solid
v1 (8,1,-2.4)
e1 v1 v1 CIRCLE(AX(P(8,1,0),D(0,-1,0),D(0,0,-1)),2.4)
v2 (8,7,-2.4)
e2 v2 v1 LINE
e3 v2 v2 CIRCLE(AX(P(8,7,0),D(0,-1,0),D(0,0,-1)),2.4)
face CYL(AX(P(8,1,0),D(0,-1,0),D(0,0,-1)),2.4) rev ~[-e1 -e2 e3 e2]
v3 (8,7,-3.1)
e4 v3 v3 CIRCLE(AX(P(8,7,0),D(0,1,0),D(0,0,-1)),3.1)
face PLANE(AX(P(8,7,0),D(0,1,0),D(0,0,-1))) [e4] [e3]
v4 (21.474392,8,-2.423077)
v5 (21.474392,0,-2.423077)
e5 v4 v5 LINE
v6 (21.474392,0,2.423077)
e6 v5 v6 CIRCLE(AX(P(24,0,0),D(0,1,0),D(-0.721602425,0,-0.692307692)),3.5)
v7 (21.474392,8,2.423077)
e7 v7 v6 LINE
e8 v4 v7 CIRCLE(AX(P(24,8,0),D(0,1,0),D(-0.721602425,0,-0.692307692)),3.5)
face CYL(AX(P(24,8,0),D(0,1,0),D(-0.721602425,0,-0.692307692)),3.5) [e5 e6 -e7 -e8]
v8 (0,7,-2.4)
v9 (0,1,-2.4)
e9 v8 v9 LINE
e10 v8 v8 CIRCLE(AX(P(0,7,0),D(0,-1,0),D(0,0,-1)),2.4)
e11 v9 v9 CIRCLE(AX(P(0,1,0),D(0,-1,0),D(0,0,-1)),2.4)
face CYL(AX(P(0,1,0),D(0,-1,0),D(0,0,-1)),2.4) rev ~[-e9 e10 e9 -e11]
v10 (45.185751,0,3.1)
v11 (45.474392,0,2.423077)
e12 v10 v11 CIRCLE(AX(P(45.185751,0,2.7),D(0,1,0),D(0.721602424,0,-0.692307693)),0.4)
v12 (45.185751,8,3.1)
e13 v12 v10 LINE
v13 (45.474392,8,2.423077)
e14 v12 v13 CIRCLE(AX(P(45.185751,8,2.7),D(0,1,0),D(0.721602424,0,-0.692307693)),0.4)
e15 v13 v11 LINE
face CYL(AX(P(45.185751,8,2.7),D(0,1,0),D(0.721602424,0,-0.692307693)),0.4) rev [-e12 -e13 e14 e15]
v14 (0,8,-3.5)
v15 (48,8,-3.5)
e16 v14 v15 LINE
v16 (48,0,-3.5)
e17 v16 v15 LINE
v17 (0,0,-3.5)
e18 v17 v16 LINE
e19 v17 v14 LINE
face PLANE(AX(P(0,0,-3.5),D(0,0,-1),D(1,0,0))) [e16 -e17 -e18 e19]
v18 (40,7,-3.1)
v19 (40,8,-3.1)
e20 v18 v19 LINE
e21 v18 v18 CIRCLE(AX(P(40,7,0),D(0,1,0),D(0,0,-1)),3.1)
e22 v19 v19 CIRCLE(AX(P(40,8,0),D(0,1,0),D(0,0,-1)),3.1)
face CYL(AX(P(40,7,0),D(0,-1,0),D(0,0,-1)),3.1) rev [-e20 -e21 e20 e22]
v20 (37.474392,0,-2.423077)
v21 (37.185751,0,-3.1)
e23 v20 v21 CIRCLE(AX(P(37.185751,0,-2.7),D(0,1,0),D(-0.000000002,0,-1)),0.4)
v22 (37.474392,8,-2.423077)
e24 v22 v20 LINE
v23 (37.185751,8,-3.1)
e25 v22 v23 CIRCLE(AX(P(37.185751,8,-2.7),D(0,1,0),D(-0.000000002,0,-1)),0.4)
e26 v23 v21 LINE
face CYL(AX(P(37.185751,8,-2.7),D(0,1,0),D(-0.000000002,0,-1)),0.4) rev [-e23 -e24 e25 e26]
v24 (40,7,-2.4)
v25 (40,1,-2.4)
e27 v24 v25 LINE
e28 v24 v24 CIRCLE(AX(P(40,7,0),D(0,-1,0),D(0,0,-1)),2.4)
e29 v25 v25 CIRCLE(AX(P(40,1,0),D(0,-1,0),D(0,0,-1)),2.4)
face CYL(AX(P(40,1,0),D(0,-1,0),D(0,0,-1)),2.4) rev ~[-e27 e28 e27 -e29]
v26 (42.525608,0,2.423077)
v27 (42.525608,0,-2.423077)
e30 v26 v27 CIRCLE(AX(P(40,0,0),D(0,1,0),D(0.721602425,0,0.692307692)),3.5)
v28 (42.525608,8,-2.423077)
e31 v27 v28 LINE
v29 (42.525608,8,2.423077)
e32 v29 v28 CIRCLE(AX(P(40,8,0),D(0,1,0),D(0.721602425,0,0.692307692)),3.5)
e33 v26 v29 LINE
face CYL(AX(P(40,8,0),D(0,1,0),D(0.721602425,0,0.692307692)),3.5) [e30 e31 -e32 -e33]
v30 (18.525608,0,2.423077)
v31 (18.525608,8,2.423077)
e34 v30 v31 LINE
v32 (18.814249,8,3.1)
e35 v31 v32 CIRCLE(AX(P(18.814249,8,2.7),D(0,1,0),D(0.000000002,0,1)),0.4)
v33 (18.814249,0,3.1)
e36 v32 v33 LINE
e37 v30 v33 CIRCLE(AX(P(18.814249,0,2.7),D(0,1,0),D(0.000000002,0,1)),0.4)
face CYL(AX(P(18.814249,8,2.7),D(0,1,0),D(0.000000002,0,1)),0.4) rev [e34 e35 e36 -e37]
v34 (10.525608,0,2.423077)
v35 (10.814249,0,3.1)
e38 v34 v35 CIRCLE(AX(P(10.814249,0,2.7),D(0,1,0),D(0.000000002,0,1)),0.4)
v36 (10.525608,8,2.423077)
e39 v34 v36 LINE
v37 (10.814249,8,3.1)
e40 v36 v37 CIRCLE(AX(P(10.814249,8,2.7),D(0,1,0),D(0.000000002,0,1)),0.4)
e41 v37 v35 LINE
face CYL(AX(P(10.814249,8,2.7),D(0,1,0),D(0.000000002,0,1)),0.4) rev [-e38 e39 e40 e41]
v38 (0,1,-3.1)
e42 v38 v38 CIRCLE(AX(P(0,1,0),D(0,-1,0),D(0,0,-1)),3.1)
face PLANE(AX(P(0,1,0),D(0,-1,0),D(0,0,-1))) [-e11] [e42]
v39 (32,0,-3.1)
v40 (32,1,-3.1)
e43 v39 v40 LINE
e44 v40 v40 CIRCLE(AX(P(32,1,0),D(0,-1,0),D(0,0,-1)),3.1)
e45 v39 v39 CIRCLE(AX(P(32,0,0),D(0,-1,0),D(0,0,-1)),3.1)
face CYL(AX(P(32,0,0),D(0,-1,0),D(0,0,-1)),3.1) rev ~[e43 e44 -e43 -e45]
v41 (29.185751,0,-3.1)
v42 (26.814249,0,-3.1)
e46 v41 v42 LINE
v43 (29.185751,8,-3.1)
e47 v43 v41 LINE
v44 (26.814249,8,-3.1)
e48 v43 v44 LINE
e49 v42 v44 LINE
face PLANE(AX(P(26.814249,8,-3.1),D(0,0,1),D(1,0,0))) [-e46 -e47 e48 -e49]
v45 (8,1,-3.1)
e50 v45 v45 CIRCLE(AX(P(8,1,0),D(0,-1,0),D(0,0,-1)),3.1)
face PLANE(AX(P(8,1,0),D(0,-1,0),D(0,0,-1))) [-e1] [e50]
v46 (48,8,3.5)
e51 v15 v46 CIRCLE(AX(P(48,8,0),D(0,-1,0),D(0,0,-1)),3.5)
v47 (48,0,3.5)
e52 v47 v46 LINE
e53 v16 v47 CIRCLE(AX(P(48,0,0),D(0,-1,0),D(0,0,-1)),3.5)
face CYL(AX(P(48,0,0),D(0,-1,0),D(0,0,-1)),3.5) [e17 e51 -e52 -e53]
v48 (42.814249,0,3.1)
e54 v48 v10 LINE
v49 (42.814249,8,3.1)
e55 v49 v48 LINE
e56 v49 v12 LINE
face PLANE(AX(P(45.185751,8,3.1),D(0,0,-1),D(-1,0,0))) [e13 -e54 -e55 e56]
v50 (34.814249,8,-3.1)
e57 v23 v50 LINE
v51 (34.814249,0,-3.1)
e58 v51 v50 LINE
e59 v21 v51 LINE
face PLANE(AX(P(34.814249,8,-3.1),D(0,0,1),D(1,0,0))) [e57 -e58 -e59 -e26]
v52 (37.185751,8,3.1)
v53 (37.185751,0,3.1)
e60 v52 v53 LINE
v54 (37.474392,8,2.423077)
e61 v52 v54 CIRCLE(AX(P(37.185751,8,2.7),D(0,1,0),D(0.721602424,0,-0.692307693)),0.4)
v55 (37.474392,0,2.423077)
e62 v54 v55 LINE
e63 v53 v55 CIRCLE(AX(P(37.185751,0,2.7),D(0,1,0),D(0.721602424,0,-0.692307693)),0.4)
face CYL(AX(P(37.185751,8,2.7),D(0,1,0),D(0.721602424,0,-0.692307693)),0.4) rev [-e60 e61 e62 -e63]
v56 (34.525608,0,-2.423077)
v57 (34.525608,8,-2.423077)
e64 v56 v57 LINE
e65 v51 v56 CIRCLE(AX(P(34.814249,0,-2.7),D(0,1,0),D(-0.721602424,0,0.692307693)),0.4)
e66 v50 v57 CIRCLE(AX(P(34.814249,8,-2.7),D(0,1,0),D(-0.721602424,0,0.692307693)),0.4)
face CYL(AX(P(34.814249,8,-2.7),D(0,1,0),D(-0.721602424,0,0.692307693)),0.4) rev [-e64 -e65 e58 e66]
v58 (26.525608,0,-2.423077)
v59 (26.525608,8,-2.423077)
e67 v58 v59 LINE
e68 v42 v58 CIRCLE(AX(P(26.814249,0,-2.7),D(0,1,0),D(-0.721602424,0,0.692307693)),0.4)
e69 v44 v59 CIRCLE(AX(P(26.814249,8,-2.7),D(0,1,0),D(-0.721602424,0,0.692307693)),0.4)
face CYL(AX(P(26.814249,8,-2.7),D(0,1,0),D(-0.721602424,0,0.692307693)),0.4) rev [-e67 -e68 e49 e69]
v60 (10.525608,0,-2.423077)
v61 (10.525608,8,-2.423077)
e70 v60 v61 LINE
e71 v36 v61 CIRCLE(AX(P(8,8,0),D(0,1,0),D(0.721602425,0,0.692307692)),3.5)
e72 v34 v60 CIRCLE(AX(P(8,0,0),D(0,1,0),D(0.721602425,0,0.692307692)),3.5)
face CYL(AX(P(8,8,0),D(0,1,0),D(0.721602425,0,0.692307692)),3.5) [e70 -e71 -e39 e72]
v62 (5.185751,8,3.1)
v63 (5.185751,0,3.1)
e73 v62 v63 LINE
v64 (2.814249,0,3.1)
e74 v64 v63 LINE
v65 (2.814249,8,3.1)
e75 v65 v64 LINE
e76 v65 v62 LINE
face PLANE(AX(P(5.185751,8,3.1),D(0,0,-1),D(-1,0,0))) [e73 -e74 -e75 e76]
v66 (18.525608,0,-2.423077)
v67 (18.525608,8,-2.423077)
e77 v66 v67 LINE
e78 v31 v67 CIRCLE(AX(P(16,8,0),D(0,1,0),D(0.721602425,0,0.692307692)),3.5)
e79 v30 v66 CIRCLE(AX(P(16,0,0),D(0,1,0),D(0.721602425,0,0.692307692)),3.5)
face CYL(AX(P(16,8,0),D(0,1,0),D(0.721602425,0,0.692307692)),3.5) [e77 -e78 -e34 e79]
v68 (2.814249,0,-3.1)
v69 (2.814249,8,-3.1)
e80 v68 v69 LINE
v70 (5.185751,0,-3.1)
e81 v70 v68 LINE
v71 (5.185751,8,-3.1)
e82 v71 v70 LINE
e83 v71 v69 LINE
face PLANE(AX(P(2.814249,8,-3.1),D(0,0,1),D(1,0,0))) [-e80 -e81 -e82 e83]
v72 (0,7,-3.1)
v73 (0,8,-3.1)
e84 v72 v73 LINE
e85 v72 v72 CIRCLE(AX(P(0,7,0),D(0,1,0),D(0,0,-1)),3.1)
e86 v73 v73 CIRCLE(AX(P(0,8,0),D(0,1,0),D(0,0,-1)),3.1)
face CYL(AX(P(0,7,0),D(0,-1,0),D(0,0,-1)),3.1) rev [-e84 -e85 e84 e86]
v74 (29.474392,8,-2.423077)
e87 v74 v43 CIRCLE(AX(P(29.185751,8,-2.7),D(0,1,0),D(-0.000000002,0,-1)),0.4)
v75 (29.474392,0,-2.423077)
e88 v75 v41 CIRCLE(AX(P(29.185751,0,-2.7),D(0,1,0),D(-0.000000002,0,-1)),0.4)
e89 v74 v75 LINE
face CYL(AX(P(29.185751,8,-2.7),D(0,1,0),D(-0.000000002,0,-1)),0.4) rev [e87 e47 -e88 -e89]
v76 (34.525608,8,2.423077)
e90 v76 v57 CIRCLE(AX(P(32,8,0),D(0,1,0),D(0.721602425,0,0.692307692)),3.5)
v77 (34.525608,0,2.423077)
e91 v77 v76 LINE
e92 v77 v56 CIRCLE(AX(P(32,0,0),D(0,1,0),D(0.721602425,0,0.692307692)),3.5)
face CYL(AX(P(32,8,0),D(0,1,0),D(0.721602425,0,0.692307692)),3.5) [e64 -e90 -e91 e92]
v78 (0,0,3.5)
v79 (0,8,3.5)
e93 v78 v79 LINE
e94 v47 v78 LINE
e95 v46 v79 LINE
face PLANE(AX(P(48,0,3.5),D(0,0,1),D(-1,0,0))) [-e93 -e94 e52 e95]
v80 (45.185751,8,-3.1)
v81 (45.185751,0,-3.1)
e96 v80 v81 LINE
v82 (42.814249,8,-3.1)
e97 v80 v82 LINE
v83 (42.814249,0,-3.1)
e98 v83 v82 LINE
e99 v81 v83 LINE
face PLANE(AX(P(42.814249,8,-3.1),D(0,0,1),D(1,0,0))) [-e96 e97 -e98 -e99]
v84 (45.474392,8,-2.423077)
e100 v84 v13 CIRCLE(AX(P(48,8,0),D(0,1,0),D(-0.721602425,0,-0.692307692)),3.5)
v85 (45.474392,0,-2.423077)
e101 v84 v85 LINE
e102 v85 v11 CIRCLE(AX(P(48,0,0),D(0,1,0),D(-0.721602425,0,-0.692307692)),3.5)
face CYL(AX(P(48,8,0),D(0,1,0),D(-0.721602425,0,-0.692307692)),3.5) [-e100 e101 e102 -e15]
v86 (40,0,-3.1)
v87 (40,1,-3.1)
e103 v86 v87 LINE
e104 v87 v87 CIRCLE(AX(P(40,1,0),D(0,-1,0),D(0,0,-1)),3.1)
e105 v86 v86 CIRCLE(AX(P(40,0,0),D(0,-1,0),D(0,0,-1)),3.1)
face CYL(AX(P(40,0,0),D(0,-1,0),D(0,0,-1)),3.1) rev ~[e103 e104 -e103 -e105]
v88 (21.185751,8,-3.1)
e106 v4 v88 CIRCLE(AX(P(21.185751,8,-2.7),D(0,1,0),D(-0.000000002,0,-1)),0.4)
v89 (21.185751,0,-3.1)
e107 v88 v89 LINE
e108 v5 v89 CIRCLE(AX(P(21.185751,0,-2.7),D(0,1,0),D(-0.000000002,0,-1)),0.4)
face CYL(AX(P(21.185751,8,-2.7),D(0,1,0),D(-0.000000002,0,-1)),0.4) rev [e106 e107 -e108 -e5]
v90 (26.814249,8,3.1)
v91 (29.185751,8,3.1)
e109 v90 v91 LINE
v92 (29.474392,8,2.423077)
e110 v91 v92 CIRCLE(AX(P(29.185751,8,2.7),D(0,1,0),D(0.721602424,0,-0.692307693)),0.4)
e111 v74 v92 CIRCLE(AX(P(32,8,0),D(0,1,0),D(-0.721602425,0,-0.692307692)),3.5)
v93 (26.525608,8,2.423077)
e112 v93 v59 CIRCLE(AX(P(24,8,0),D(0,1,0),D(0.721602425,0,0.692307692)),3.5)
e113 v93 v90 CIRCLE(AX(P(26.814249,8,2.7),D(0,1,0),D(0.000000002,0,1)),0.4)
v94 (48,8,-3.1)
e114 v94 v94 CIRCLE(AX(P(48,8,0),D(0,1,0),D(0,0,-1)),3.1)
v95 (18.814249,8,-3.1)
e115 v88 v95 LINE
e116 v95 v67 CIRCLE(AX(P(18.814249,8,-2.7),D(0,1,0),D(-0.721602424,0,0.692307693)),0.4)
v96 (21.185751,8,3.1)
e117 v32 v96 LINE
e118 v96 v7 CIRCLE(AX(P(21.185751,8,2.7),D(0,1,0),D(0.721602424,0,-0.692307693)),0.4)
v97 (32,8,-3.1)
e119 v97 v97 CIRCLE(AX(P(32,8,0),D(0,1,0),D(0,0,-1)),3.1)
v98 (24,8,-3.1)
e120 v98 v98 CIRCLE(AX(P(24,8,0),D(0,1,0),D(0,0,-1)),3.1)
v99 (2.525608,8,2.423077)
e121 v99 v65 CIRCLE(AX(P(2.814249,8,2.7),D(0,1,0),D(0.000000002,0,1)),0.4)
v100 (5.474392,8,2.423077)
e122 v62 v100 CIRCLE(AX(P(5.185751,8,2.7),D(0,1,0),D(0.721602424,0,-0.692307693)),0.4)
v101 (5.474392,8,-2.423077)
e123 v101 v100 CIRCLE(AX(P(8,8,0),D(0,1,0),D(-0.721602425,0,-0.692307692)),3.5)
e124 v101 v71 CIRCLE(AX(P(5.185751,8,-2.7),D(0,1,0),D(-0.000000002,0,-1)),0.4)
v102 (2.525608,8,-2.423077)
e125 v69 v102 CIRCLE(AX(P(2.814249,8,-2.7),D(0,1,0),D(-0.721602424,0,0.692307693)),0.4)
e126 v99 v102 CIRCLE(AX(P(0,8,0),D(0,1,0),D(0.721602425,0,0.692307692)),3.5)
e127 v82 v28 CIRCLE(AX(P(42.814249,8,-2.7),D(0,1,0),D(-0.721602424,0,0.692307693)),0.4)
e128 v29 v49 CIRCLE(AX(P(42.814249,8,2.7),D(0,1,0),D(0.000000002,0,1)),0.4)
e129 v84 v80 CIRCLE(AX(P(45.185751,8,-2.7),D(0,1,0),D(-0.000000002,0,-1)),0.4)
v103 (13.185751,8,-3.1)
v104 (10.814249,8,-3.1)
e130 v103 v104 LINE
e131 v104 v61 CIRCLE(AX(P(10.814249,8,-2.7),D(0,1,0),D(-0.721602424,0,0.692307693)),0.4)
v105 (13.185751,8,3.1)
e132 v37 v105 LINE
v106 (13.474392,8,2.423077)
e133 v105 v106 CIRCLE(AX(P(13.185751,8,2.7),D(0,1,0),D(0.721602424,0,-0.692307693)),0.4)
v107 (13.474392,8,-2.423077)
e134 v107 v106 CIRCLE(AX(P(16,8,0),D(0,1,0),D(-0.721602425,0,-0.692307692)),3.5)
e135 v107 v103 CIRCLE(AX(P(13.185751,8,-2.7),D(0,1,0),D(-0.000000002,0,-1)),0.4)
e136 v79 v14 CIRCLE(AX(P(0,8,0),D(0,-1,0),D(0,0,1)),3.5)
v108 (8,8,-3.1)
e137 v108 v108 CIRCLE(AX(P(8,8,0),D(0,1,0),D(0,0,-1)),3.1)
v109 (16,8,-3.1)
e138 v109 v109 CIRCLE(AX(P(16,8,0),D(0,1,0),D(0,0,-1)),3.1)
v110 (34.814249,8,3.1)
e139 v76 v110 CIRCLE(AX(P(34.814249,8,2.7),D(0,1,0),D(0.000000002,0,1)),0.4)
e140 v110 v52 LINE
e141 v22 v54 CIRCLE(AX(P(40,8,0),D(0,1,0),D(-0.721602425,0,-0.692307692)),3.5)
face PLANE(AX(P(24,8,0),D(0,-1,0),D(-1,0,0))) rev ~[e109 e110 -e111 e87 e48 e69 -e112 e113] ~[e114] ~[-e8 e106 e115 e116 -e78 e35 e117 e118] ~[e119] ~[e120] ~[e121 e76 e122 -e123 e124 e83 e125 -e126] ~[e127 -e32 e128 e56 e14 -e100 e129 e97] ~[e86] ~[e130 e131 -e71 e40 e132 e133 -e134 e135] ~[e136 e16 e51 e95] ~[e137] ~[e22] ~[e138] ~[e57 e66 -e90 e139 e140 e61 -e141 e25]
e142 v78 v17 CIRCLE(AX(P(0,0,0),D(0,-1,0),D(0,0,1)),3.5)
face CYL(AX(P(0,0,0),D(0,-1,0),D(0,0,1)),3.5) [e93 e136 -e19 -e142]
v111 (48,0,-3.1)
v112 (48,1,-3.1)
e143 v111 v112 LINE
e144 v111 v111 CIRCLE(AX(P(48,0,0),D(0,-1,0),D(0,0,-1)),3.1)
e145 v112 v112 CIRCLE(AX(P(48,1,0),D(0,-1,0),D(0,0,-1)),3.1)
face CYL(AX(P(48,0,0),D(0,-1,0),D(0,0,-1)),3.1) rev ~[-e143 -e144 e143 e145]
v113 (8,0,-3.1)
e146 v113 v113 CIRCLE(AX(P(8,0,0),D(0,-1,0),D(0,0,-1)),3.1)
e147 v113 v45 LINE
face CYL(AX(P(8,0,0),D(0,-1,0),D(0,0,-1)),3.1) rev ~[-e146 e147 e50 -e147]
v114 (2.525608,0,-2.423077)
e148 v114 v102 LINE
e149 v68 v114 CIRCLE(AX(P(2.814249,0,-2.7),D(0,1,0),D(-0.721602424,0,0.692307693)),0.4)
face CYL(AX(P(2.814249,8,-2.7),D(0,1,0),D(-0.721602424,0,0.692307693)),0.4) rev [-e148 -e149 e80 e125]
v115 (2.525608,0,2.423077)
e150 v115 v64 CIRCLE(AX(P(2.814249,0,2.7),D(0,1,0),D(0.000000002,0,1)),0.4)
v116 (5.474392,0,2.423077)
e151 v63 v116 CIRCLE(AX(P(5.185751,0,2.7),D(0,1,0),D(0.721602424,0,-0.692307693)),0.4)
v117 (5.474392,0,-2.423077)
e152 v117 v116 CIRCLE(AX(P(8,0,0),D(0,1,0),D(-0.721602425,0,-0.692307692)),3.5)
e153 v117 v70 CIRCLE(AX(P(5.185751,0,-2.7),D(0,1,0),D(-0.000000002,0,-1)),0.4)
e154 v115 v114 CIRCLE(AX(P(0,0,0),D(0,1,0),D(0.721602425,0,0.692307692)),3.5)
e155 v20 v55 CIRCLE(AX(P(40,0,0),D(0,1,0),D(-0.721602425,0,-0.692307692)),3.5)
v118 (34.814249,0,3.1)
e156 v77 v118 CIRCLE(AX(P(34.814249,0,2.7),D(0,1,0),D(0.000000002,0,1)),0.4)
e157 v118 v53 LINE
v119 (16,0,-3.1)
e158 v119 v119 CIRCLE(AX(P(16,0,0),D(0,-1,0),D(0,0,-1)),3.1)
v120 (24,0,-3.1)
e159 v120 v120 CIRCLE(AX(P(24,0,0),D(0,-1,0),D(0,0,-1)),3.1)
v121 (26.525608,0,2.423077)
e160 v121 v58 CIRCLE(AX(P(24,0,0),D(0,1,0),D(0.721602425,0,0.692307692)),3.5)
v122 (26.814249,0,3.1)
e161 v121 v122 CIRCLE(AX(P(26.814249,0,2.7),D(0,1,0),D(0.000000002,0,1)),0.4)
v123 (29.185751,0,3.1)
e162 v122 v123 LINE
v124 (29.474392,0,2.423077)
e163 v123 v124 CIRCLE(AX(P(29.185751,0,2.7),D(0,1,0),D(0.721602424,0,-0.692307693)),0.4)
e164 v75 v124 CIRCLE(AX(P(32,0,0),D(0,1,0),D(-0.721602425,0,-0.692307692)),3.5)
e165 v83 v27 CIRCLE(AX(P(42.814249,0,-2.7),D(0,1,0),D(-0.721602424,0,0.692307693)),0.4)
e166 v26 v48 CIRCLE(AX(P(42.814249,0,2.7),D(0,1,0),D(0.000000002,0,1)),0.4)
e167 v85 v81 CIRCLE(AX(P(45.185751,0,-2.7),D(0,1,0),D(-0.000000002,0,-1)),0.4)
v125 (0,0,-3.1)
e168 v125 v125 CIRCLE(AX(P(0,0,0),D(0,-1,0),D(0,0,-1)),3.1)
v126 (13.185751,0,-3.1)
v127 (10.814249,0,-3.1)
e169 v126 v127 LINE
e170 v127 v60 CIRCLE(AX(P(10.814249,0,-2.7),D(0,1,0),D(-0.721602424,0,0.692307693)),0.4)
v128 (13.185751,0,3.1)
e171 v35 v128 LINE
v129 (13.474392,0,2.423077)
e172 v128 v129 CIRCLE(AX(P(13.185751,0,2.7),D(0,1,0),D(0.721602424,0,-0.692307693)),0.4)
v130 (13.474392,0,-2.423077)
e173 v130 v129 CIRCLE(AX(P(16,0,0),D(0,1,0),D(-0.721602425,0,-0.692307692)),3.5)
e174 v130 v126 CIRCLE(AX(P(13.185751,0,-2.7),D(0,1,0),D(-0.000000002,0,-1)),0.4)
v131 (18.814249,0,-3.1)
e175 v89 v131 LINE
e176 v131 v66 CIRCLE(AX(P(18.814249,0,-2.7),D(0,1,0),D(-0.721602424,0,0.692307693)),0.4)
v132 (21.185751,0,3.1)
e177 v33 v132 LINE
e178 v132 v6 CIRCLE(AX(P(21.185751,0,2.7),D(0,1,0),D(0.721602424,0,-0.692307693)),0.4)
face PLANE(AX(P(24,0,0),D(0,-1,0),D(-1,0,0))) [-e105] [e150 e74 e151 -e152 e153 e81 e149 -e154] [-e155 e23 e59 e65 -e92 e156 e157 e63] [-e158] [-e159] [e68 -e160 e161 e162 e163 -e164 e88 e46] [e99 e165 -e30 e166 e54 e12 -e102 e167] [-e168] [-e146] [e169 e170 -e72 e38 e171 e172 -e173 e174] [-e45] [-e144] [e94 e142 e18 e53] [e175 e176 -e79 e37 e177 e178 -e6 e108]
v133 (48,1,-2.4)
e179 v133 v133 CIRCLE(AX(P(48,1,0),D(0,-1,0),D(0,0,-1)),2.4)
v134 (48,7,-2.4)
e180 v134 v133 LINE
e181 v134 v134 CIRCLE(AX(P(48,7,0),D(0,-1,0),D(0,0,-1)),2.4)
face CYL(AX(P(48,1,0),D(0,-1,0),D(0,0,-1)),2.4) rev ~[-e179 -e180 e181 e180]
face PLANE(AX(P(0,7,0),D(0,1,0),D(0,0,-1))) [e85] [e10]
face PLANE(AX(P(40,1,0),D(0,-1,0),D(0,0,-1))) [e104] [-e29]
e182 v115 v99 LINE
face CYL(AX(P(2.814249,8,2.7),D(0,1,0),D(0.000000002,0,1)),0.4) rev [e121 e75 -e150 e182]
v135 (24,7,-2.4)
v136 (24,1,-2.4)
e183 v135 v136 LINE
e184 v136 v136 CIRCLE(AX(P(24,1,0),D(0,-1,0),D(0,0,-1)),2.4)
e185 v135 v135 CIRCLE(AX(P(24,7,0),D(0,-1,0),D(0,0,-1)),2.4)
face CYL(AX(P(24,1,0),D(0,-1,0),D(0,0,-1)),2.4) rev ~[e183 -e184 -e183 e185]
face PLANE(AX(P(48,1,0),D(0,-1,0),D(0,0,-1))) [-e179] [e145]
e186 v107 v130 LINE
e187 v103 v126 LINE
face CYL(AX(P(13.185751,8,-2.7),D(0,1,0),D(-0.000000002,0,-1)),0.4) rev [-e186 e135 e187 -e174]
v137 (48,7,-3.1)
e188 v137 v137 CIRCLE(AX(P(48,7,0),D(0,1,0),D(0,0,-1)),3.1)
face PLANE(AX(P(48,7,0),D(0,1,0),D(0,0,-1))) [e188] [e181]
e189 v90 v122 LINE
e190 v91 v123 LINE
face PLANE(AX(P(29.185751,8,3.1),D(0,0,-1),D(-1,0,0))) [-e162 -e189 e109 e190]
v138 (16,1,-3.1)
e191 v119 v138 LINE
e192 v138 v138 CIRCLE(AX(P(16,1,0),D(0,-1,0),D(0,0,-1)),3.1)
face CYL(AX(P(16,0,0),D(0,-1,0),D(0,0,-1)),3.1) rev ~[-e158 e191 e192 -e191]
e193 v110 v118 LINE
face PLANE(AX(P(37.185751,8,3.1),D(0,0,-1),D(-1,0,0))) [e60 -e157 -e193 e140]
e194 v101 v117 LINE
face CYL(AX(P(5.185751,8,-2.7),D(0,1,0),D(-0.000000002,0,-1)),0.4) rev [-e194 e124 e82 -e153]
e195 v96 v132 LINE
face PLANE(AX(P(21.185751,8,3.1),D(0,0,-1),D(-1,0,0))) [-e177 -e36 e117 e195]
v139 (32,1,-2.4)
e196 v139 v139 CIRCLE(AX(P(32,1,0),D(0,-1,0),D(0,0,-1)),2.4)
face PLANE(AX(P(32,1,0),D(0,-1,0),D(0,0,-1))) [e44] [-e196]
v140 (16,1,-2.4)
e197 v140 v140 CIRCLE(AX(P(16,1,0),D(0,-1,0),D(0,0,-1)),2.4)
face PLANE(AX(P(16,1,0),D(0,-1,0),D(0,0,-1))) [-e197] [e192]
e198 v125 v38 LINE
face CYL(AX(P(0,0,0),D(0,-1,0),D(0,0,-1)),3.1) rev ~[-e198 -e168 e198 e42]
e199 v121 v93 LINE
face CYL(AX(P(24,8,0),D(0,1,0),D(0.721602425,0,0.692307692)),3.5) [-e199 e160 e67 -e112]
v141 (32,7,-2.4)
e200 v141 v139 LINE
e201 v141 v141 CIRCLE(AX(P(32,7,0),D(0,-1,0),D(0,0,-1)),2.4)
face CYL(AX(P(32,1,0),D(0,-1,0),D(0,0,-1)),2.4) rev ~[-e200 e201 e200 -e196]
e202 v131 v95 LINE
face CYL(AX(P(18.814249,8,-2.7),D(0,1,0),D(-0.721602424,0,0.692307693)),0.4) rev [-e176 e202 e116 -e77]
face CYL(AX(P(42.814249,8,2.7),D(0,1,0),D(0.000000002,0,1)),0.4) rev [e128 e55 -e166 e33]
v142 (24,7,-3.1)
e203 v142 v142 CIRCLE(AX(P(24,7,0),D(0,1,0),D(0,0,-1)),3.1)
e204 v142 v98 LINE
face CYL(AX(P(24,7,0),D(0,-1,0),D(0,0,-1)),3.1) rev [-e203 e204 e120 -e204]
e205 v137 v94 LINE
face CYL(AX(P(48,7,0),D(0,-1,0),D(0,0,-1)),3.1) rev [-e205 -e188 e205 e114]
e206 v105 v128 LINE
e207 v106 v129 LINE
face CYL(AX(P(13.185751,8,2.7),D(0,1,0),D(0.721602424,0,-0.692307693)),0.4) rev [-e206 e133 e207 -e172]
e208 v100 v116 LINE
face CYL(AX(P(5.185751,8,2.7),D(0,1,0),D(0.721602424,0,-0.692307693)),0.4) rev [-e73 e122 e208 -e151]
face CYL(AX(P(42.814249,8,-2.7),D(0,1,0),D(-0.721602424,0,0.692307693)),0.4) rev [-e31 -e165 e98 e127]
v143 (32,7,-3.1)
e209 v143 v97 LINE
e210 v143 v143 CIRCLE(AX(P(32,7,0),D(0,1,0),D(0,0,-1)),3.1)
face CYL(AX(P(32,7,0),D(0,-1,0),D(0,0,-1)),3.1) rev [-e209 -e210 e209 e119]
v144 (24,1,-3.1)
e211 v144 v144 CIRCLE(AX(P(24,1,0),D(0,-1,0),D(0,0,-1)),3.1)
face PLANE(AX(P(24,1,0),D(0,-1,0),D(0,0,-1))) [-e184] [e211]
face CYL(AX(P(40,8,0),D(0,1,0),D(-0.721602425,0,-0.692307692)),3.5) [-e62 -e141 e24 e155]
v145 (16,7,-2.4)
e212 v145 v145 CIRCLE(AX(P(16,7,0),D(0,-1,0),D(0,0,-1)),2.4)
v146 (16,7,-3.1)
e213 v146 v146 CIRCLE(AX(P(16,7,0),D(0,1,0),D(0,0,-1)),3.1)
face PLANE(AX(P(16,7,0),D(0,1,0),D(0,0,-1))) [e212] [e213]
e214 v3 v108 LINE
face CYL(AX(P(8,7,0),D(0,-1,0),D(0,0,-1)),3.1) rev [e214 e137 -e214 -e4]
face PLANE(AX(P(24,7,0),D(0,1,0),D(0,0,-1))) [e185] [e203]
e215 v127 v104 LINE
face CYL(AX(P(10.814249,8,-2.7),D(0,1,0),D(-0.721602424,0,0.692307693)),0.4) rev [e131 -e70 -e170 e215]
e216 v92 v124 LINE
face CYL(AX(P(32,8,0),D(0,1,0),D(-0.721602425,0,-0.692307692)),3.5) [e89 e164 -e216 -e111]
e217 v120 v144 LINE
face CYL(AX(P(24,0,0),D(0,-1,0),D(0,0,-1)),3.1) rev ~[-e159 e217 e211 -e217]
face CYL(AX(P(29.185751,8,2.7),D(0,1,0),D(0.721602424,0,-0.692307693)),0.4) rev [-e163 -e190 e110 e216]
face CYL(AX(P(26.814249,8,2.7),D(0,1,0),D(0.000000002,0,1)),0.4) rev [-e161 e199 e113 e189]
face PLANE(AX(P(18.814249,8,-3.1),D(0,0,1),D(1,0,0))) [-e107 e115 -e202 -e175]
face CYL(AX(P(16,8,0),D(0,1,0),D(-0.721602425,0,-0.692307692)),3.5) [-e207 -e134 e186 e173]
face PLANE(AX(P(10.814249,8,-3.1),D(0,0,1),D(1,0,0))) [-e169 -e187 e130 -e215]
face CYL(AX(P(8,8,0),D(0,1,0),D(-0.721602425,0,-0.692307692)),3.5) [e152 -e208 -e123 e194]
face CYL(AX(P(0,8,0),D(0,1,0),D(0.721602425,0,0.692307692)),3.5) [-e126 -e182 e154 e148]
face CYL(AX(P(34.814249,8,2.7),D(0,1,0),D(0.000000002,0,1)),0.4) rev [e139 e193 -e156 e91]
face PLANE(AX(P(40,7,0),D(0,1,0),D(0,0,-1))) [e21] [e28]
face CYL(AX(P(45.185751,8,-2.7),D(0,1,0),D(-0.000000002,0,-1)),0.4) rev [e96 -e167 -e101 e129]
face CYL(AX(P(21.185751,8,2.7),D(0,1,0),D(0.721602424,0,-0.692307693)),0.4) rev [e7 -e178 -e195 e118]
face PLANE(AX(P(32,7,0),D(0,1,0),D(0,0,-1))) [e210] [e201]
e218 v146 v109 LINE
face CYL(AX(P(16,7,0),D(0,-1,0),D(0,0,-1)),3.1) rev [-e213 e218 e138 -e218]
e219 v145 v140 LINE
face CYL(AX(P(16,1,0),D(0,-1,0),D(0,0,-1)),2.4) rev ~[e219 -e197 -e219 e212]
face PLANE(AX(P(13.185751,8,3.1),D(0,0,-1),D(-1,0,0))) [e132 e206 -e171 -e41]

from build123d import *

# Parameters (mm, degrees)
BOSS_EXTRUDE1_DEPTH = 8
SKETCH5_R           = 3.1
CUT_EXTRUDE1_DEPTH  = 1
SKETCH6_R           = 2.4
CUT_EXTRUDE2_DEPTH  = 53.091266063
CUT_EXTRUDE3_START  = -1
SKETCH8_R           = 3.1
CUT_EXTRUDE3_DEPTH  = 1
LPATTERN3_COUNT     = 7
LPATTERN3_PITCH     = 8
CUT_EXTRUDE4_DEPTH  = 53.235045707
LPATTERN4_COUNT     = 6
LPATTERN4_PITCH     = 8


with BuildPart() as part:
    # Sketch3 → Boss-Extrude1 (new body)
    with BuildSketch(Plane(origin=(0, 0, 0), x_dir=(1, 0, 0), z_dir=(0, 1, 0))):
        with BuildLine():
            Line((0, 3.5), (48, 3.5))
            ThreePointArc((48, 3.5), (51.5, 0), (48, -3.5))
            Line((48, -3.5), (0, -3.5))
            ThreePointArc((0, -3.5), (-3.5, 0), (0, 3.5))
        make_face()
    extrude(amount=BOSS_EXTRUDE1_DEPTH)

    # Sketch5 → Cut-Extrude1 (cut)
    with BuildSketch(Plane(origin=(0, 0, 0), x_dir=(-1, 0, 0), z_dir=(0, -1, 0))):
        with Locations(Location((0, 0, 0), (0, 0, 90))):
            Circle(SKETCH5_R)
    cut_extrude1 = extrude(amount=-CUT_EXTRUDE1_DEPTH, mode=Mode.SUBTRACT)

    # Sketch6 → Cut-Extrude2 (cut, symmetric)
    with BuildSketch(Plane(origin=(0, 1, 0), x_dir=(-1, 0, 0), z_dir=(0, -1, 0))):
        with Locations(Location((0, 0, 0), (0, 0, 90))):
            Circle(SKETCH6_R)
    cut_extrude2 = extrude(amount=CUT_EXTRUDE2_DEPTH, both=True, mode=Mode.SUBTRACT)

    # Sketch8 → Cut-Extrude3 (cut)
    with BuildSketch(Plane(origin=(0, 8, 0), x_dir=(1, 0, 0), z_dir=(0, 1, 0)).offset(CUT_EXTRUDE3_START)):
        with Locations(Location((0, 0, 0), (0, 0, 90))):
            Circle(SKETCH8_R)
    cut_extrude3 = extrude(amount=CUT_EXTRUDE3_DEPTH, mode=Mode.SUBTRACT)

    # LPattern3: Cut-Extrude1, Cut-Extrude2, Cut-Extrude3 ×7
    with Locations(*[(i * LPATTERN3_PITCH, 0, 0) for i in range(1, LPATTERN3_COUNT)]):
        add(cut_extrude1, mode=Mode.SUBTRACT)
        add(cut_extrude2, mode=Mode.SUBTRACT)
        add(cut_extrude3, mode=Mode.SUBTRACT)

    # Sketch9 → Cut-Extrude4 (cut, symmetric)
    with BuildSketch(Plane(origin=(0, 8, 0), x_dir=(1, 0, 0), z_dir=(0, 1, 0))):
        with BuildLine():
            Line((2.814249456, 3.1), (5.185750544, 3.1))
            ThreePointArc((5.185750544, 3.1), (5.553697029, 2.856892908), (5.474391514, 2.423076923))
            ThreePointArc((5.474391514, 2.423076923), (4.5, 0), (5.474391514, -2.423076923))
            ThreePointArc((5.474391514, -2.423076923), (5.553697029, -2.856892908), (5.185750544, -3.1))
            Line((5.185750544, -3.1), (2.814249456, -3.1))
            ThreePointArc((2.814249456, -3.1), (2.446302971, -2.856892908), (2.525608486, -2.423076923))
            ThreePointArc((2.525608486, -2.423076923), (3.5, 0), (2.525608486, 2.423076923))
            ThreePointArc((2.525608486, 2.423076923), (2.446302971, 2.856892908), (2.814249456, 3.1))
        make_face()
    cut_extrude4 = extrude(amount=CUT_EXTRUDE4_DEPTH, both=True, mode=Mode.SUBTRACT)

    # LPattern4: Cut-Extrude4 ×6
    with Locations(*[(i * LPATTERN4_PITCH, 0, 0) for i in range(1, LPATTERN4_COUNT)]):
        add(cut_extrude4, mode=Mode.SUBTRACT)


solid = part.part
